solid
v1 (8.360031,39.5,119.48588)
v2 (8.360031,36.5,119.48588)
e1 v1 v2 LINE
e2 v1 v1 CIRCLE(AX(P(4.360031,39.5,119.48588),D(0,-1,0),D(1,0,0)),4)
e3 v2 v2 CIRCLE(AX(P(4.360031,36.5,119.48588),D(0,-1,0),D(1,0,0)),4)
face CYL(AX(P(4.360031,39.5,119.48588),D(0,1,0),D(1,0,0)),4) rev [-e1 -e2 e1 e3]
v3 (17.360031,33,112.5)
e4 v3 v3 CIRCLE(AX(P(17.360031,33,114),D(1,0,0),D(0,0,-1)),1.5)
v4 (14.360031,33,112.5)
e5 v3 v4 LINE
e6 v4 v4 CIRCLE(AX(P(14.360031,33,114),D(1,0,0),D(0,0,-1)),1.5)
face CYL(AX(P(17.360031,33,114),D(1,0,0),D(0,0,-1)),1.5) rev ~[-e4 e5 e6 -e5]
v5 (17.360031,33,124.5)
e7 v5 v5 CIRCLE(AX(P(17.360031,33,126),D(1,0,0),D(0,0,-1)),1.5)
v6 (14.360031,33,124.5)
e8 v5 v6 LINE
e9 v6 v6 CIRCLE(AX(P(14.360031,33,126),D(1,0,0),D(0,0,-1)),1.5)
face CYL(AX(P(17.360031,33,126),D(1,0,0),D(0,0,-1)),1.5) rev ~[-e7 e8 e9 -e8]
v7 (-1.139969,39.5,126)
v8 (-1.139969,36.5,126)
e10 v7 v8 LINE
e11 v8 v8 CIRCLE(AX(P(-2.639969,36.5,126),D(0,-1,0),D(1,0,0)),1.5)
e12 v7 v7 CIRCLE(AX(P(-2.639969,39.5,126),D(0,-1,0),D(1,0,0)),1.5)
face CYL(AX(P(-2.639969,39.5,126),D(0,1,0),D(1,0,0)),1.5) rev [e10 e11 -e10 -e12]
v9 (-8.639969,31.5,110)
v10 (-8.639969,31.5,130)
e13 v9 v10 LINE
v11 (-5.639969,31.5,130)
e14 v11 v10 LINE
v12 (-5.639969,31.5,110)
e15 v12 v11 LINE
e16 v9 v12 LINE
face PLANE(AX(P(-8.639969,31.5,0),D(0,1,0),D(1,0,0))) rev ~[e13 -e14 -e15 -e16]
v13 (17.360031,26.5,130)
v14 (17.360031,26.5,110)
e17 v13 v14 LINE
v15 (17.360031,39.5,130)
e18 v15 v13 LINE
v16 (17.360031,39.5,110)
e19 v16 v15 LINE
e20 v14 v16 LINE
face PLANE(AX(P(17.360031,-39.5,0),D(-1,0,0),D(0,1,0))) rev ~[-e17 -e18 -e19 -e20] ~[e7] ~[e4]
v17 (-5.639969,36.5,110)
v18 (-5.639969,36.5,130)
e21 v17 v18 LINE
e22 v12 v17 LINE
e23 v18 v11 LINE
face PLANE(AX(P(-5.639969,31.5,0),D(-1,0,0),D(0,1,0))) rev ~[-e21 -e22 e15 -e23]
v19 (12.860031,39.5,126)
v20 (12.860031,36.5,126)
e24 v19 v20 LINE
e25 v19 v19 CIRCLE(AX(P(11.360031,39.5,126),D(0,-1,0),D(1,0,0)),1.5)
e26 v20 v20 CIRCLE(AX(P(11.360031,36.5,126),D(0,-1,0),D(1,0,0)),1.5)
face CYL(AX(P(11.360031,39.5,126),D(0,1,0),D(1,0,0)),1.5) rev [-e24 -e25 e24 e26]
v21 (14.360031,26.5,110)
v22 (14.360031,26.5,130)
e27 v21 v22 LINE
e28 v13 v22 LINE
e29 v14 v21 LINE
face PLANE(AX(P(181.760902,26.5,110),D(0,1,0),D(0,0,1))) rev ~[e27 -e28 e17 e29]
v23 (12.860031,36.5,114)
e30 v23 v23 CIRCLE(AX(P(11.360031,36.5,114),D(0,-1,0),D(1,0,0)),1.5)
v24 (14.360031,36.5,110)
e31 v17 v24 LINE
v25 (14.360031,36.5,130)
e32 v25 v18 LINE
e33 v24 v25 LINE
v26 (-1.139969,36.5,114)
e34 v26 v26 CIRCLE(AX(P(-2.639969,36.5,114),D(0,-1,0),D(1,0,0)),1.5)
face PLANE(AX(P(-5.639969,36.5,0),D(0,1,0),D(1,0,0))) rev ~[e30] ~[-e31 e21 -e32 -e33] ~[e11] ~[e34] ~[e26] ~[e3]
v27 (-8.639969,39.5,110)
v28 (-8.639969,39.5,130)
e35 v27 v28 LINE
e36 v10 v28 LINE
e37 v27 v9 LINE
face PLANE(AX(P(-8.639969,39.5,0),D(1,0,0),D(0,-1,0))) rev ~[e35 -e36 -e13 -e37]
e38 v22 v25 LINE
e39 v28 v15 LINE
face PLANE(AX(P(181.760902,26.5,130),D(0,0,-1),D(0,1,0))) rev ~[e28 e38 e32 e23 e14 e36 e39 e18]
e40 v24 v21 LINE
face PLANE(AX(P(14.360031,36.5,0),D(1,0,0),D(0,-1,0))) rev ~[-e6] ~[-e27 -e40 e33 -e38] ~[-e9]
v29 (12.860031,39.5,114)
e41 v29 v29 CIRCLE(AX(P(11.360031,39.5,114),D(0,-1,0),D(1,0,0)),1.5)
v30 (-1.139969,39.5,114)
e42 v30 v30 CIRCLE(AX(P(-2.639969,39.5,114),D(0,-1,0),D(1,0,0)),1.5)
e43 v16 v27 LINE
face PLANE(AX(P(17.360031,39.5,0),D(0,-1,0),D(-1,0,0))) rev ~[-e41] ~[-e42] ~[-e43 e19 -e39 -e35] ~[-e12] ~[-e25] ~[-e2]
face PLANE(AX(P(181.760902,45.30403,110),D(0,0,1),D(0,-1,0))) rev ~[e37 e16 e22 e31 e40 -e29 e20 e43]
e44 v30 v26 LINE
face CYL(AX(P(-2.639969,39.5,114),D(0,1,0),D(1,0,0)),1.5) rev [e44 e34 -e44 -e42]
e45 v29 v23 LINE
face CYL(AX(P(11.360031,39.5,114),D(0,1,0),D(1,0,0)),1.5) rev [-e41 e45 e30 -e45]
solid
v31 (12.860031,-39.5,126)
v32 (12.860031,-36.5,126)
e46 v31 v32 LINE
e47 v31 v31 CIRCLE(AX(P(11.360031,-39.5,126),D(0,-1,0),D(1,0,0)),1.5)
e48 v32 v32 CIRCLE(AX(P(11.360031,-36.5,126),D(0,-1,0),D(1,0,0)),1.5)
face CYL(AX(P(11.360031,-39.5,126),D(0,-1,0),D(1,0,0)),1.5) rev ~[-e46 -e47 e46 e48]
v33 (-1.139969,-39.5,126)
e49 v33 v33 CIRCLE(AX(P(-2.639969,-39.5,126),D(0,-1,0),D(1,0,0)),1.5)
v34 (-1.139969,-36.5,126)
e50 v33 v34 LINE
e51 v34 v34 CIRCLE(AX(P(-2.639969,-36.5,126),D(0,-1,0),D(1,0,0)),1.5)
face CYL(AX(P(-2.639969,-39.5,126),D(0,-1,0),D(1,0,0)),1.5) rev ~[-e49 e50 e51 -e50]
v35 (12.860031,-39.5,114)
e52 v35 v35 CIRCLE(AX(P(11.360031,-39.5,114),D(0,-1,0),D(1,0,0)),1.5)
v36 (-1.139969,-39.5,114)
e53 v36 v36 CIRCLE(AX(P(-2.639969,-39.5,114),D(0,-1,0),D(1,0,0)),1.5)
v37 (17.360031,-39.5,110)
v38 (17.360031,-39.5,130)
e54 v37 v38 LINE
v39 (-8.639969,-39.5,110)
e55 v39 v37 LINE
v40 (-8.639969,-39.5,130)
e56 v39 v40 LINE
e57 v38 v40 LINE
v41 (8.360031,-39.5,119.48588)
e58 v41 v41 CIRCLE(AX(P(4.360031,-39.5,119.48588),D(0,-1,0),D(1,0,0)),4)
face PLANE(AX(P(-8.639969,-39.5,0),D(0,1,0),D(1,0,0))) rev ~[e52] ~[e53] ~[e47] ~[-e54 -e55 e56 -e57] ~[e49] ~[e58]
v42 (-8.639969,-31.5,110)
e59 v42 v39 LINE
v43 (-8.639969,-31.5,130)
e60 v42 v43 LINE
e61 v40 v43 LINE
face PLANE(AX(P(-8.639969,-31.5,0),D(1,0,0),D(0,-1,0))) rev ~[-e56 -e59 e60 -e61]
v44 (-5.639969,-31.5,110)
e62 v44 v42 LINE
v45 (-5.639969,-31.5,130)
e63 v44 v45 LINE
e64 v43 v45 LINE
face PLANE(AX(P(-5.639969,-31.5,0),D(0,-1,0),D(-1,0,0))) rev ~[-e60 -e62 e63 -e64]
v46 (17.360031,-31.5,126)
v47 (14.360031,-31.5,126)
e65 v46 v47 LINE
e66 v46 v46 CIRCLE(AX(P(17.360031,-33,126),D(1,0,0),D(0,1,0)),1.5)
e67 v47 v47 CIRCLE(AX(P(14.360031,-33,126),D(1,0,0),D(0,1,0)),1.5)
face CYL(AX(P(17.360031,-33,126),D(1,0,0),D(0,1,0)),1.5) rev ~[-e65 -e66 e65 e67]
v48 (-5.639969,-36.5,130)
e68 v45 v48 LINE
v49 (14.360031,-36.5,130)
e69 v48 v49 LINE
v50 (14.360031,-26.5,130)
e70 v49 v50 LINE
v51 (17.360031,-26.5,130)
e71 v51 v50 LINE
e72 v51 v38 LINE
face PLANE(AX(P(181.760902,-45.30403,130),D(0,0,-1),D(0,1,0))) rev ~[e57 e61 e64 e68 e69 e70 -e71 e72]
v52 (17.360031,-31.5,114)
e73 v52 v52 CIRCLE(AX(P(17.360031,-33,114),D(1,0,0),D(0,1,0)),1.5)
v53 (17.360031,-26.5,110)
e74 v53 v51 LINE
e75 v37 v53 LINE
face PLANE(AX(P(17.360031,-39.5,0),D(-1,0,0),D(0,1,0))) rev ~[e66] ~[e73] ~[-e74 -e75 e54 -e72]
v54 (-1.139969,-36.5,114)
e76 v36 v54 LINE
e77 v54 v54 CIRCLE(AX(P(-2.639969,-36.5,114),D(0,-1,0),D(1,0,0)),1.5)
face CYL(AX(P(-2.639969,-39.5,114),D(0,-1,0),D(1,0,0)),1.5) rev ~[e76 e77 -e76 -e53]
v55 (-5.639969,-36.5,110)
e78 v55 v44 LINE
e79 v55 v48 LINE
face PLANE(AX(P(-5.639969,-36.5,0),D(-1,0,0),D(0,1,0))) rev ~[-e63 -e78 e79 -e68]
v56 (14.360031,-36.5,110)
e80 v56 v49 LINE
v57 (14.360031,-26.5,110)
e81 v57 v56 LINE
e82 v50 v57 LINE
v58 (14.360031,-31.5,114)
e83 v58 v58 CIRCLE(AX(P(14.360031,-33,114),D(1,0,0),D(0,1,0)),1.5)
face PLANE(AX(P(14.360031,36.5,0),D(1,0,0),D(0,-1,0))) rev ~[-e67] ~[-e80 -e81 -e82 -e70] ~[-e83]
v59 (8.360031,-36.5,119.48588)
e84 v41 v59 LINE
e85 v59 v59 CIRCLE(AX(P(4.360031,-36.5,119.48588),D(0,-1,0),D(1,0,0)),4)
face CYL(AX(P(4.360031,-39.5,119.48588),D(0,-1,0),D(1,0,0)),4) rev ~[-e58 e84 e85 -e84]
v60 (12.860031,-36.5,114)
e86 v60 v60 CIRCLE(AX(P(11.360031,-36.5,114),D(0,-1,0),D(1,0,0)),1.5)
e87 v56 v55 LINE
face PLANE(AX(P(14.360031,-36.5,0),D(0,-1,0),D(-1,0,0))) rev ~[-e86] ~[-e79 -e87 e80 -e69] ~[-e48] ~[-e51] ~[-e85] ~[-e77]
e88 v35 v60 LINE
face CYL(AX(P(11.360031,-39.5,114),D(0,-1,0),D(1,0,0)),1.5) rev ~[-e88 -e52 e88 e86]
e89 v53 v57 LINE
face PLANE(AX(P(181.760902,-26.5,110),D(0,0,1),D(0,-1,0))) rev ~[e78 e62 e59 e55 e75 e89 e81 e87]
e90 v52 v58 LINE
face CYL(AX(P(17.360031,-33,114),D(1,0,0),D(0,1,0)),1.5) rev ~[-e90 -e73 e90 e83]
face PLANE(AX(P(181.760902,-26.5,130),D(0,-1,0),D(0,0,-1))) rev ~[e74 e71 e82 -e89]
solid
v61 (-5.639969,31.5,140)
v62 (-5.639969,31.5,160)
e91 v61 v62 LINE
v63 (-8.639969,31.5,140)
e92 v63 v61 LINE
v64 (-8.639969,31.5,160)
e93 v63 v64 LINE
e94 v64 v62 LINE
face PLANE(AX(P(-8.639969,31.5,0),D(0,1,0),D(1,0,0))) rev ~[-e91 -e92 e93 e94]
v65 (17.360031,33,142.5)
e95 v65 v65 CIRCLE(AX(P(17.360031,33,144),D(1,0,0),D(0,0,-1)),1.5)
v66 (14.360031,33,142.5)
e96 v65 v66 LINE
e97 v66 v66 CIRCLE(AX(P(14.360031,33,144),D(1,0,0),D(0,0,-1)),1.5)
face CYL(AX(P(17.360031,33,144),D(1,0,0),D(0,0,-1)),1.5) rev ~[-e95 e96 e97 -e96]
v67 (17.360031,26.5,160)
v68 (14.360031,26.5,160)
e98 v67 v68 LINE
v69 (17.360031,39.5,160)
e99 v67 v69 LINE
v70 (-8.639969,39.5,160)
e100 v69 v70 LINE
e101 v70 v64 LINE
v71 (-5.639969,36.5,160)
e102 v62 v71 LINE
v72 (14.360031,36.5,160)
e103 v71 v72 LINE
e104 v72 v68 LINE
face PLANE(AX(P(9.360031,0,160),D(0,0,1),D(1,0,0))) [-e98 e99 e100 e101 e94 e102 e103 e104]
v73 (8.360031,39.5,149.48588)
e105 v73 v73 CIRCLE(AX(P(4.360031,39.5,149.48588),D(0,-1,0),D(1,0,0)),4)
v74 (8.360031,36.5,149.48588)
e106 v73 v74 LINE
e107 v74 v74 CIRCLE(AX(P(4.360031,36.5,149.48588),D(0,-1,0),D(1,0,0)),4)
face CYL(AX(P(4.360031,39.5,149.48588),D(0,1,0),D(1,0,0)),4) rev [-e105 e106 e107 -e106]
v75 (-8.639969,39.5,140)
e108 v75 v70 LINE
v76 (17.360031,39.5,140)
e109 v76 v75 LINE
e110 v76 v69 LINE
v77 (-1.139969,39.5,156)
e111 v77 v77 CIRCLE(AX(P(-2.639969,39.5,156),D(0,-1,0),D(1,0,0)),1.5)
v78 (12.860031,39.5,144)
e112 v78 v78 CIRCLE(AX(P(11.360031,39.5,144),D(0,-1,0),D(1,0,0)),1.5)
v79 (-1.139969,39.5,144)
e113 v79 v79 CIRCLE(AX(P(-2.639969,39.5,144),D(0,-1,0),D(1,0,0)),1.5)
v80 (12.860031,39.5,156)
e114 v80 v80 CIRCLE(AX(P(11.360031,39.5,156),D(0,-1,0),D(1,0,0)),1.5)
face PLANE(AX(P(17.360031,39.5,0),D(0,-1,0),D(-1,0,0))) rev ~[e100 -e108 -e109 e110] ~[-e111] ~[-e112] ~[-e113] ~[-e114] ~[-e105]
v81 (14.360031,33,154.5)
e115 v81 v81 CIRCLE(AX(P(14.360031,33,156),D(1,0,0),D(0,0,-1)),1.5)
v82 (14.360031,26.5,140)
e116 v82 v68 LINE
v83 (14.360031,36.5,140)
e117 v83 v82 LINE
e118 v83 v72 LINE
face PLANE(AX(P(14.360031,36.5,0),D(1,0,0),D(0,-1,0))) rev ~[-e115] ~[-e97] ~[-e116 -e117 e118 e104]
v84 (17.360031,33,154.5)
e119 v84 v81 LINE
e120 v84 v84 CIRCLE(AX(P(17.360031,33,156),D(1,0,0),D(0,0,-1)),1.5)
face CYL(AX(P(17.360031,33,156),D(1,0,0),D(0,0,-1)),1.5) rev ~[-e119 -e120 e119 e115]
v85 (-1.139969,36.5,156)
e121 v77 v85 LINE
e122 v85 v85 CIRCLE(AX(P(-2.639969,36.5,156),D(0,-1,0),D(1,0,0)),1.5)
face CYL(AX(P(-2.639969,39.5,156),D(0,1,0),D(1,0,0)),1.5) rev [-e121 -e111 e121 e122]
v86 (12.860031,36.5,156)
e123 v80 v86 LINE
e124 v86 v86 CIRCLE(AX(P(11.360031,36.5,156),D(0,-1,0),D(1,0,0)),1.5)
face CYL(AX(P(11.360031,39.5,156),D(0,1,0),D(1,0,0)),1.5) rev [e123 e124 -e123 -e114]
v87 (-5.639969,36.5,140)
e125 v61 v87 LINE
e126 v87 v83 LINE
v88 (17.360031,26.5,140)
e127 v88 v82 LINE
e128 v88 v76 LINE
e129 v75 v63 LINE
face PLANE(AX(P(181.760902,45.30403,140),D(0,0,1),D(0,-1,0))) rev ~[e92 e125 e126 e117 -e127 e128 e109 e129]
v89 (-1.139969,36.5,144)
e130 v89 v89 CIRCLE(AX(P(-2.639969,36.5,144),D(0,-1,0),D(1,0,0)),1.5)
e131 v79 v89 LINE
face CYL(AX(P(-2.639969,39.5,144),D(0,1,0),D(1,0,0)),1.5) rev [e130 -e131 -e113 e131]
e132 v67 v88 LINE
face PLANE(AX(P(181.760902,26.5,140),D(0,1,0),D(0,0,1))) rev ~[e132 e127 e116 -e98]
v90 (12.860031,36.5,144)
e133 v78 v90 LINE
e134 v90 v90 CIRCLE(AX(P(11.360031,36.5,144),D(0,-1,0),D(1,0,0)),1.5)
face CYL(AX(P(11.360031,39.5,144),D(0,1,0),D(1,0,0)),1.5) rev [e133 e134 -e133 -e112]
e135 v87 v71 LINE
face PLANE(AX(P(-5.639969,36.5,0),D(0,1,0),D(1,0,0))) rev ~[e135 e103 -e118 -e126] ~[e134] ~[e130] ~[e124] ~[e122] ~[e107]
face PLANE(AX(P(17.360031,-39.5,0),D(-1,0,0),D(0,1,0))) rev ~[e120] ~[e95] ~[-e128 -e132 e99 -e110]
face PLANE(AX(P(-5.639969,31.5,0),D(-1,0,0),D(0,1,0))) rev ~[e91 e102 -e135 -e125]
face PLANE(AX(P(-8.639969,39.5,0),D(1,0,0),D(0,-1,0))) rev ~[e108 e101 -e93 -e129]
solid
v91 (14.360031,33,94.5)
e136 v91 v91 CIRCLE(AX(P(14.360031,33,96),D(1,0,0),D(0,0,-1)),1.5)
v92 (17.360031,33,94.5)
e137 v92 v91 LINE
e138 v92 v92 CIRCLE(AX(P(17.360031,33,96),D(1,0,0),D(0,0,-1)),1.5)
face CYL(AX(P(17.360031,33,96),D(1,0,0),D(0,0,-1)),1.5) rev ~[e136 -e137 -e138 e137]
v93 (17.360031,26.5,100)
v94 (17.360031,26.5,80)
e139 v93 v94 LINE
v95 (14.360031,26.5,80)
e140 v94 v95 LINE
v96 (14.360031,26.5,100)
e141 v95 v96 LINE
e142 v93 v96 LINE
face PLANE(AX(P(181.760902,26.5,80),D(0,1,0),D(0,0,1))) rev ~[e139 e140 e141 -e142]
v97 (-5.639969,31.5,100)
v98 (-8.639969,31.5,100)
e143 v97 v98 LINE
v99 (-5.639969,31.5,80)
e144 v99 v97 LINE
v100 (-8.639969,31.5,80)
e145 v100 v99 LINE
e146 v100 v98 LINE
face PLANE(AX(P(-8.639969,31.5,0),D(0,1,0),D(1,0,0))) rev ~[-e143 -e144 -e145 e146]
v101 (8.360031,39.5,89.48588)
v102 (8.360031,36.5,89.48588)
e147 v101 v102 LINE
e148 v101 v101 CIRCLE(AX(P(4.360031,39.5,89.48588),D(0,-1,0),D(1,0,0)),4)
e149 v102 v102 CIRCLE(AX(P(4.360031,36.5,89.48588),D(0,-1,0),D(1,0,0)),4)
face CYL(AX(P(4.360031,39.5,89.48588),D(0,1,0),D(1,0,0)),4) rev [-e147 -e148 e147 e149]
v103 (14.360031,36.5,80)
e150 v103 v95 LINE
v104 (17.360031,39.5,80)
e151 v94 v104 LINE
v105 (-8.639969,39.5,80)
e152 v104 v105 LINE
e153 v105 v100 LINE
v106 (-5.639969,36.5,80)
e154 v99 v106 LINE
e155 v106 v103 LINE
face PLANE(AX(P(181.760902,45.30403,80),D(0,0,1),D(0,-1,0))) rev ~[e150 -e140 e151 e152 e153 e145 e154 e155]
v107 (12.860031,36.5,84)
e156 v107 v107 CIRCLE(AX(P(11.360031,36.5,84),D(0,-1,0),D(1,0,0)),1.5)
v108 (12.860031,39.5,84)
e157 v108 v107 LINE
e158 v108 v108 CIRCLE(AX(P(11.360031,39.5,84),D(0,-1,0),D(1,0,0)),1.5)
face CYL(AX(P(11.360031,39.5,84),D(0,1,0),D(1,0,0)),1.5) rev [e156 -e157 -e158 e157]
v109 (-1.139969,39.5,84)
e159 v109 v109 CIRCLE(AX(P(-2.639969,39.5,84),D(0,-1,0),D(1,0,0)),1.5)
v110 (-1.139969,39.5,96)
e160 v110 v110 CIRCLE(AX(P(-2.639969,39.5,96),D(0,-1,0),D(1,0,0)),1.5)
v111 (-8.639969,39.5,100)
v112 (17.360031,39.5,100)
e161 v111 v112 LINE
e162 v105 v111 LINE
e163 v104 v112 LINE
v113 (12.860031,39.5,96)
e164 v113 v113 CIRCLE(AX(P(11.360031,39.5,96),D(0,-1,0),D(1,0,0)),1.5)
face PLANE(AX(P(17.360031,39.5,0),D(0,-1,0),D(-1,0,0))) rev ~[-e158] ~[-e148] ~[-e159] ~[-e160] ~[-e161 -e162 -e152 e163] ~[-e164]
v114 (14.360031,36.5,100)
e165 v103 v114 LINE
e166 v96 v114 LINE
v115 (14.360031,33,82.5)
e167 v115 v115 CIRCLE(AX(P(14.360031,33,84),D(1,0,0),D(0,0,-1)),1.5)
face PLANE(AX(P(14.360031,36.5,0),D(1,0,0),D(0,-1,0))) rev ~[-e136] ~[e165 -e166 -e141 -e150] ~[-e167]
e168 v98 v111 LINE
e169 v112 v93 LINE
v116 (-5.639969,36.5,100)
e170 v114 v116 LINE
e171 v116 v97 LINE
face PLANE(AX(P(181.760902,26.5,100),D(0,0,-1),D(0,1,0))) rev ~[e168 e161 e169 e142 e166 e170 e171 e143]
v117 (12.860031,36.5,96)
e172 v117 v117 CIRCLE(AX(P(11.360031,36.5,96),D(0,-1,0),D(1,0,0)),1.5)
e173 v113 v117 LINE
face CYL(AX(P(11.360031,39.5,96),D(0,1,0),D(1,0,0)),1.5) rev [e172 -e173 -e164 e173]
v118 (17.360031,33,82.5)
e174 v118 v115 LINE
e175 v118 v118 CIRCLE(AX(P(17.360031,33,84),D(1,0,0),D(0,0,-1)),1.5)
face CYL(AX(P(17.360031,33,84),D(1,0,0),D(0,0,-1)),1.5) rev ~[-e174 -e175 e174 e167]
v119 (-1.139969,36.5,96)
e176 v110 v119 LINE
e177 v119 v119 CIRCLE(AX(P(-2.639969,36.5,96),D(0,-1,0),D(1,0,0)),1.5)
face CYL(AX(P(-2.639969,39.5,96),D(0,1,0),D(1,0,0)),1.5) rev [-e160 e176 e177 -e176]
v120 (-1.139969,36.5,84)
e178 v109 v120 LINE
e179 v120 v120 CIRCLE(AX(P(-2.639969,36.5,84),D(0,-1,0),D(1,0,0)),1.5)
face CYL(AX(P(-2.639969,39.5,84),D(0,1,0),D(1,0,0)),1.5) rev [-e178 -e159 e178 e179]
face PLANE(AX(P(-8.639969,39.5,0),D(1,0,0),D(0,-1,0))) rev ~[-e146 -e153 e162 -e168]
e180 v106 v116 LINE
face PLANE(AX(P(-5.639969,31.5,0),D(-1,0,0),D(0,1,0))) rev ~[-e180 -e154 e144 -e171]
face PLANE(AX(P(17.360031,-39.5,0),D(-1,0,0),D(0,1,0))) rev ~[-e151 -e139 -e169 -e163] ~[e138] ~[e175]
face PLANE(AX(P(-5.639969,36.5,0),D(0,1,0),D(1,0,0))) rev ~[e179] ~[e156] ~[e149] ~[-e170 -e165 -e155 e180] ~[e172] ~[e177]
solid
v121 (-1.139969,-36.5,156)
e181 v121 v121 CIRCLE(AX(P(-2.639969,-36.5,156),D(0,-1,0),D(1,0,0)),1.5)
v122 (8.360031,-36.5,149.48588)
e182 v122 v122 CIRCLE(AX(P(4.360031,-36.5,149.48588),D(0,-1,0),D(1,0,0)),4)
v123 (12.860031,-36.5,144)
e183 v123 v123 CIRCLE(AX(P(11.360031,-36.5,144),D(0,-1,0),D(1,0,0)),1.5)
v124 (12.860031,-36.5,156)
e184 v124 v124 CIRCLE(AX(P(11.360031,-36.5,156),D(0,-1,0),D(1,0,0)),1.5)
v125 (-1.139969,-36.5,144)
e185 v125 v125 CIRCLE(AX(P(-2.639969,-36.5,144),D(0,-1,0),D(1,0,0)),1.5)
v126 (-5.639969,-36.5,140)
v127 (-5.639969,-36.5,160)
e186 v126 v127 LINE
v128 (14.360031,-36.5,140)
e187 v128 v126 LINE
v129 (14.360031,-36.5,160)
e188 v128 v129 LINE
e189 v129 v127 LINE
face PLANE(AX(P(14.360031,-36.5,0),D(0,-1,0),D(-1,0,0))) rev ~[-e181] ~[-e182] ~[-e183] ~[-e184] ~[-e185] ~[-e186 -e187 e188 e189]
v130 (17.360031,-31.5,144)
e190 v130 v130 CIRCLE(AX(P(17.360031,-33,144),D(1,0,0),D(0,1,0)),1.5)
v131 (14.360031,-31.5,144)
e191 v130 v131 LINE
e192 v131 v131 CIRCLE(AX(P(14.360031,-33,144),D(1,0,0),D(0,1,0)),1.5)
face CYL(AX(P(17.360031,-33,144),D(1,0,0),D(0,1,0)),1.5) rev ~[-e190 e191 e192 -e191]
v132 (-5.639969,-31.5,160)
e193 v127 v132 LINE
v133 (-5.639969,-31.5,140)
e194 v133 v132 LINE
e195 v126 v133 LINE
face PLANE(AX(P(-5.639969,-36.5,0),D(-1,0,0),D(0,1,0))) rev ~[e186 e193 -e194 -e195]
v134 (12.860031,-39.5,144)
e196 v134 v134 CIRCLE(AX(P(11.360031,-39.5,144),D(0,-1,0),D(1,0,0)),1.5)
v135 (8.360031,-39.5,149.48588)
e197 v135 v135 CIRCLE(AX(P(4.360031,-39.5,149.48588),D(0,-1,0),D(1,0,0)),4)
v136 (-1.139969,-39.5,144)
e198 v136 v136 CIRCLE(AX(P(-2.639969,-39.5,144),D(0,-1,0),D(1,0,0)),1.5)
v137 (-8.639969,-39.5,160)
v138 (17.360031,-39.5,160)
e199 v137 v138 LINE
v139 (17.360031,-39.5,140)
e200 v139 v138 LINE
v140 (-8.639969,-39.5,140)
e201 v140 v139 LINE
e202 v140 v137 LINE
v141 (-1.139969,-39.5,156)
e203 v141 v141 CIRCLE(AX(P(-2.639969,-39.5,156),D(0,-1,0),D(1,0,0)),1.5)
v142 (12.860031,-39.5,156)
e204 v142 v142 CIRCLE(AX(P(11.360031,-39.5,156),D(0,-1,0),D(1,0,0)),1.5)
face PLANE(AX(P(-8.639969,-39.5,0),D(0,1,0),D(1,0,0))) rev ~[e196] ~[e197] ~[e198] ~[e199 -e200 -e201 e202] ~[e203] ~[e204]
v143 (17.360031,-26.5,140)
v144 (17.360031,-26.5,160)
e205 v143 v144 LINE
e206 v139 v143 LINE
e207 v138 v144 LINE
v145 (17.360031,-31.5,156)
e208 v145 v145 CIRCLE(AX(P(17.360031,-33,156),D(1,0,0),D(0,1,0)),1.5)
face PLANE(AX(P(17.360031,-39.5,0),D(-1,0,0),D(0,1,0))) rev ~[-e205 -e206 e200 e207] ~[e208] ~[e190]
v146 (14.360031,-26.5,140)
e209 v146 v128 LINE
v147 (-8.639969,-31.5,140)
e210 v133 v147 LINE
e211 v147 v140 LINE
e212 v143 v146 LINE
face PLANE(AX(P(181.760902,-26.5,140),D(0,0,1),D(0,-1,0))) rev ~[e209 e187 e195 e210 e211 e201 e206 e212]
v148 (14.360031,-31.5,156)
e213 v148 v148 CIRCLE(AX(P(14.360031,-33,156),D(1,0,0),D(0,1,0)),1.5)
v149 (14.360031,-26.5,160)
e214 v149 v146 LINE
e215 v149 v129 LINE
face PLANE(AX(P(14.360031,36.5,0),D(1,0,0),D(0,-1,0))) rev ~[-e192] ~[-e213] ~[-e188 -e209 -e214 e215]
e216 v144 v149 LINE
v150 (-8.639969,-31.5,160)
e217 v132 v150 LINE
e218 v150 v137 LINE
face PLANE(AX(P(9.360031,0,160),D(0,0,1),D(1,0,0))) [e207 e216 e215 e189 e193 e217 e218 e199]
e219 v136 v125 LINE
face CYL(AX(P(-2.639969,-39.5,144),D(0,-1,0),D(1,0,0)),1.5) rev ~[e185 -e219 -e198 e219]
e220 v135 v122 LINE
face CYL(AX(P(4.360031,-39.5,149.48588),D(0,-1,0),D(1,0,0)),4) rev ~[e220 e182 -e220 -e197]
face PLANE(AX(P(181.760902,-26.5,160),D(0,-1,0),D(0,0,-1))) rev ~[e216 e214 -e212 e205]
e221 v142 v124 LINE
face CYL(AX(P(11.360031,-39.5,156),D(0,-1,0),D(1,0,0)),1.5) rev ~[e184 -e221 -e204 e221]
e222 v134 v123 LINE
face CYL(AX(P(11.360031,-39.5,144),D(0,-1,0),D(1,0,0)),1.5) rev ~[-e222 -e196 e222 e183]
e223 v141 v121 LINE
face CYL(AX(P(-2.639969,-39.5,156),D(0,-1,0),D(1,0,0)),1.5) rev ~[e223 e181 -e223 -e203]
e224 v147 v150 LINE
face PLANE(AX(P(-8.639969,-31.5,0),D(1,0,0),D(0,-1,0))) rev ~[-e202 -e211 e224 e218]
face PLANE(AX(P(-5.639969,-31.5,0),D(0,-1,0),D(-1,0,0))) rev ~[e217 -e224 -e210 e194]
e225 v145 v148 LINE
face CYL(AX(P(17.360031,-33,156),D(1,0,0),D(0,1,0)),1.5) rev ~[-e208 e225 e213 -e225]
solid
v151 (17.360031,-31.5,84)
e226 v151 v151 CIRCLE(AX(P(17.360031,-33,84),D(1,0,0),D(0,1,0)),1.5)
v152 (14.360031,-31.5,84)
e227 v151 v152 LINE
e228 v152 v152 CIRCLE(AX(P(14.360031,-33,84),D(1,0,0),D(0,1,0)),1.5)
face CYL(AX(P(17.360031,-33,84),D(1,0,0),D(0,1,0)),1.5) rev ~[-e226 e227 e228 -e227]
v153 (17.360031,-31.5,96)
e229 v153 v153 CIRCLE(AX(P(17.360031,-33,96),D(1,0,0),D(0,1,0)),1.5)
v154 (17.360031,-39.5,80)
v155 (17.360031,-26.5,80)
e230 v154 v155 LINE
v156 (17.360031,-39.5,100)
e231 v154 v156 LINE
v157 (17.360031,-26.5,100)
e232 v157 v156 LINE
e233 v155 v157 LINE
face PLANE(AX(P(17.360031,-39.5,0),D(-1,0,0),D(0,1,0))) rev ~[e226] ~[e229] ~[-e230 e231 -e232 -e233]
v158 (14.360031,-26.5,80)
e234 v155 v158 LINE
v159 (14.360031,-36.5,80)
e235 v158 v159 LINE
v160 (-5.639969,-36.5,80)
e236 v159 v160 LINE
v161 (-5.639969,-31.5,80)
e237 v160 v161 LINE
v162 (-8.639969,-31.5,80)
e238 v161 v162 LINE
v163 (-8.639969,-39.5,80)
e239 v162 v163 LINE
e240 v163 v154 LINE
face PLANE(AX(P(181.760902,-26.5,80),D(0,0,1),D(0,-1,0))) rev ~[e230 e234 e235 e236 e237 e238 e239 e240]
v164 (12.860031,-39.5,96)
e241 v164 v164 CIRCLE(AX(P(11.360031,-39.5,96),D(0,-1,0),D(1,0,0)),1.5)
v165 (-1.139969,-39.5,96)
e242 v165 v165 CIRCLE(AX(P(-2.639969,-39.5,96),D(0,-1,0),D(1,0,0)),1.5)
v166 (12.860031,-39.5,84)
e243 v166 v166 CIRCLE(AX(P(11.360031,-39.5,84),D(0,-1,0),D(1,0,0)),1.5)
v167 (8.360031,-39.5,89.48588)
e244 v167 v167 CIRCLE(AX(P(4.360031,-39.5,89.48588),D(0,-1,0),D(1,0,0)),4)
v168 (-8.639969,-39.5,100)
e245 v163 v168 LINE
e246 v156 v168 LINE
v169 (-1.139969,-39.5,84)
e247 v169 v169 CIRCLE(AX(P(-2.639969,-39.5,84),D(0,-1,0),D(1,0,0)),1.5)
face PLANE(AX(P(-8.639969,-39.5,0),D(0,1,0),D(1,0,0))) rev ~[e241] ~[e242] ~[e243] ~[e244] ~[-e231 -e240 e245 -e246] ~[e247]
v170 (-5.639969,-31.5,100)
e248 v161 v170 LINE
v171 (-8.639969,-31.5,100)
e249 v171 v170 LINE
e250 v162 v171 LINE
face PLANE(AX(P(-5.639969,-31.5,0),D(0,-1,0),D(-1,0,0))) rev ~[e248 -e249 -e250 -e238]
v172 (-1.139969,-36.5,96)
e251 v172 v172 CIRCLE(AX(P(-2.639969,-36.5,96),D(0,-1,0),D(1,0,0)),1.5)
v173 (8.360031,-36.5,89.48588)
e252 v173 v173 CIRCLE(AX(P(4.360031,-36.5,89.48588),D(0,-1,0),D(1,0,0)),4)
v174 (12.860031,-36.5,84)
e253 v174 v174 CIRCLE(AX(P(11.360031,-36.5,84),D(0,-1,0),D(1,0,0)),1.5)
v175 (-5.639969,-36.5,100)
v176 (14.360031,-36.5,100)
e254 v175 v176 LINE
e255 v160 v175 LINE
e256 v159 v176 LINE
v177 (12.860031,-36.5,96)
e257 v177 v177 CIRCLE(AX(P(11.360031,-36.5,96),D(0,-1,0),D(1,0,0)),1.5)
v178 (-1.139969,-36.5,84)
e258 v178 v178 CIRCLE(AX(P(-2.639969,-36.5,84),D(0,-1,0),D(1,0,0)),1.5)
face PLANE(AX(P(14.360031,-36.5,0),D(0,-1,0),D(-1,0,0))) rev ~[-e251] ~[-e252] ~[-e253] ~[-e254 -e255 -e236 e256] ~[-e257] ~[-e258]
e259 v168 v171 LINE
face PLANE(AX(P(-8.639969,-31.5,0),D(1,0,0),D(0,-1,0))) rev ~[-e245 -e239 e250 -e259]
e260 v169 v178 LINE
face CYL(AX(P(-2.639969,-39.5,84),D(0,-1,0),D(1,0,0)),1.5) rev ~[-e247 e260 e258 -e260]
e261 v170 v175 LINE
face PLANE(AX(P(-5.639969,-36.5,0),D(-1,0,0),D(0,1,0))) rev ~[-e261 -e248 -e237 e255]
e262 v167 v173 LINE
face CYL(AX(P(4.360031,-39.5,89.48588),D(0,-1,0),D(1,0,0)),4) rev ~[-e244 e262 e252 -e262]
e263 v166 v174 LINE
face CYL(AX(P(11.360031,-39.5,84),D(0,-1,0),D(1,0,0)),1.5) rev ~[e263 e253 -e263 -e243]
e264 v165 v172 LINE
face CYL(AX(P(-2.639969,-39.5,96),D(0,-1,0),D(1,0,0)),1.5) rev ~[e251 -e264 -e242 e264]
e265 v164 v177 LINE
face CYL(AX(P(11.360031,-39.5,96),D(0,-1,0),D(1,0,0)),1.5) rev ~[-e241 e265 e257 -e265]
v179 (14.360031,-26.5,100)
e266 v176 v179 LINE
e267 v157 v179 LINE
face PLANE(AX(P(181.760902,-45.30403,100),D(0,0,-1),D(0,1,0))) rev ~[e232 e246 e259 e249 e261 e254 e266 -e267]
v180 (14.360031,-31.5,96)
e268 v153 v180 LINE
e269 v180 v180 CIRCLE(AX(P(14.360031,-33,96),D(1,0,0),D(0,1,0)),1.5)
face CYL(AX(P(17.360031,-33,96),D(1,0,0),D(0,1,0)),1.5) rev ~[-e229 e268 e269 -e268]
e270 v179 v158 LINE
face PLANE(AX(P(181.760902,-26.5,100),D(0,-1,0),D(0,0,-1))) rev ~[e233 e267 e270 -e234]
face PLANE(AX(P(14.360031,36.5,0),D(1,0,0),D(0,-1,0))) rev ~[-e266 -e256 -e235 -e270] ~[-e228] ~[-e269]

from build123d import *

# Parameters (mm, degrees)
EXTRUDE_1_DEPTH          = 160
CUT_EXTRUDE_2_DEPTH      = 167.400871392
CUT_EXTRUDE_2_DEPTH_BACK = 167.400871392
SKETCH_5_R               = 1.5
CUT_EXTRUDE_3_DEPTH      = 3
SKETCH_6_R               = 1.5
SKETCH_6_R_2             = 4
CUT_EXTRUDE_4_DEPTH      = 3


with BuildPart() as part:
    # 草图1 → 凸台-拉伸1 (new body)
    with BuildSketch(Plane.XY):
        Polygon((-8.639969484, -35.5), (-8.639969484, -39.5), (17.360030516, -39.5), (17.360030516, 39.5), (-8.639969484, 39.5), (-8.639969484, 35.5), (-8.639969484, 31.5), (-5.639969484, 31.5), (-5.639969484, 36.5), (14.360030516, 36.5), (14.360030516, -36.5), (-5.639969484, -36.5), (-5.639969484, -31.5), (-8.639969484, -31.5), align=None)
    extrude(amount=EXTRUDE_1_DEPTH)

    # 草图4 → 切除-拉伸2 (cut, two sides: drawn at the far end of the back side and taken through both)
    with BuildSketch(Plane.ZY.offset(-14.360030516).offset(-CUT_EXTRUDE_2_DEPTH_BACK)):
        Polygon((140, 26.5), (160, 26.5), (160, -26.5), (140, -26.5), (140, -45.304030301), (130, -45.304030301), (130, -26.5), (110, -26.5), (110, -45.304030301), (100, -45.304030301), (100, -26.5), (80, -26.5), (80, -45.304030301), (72.341947093, -45.304030301), (72.341947093, -47.20233834), (-21.576648983, -47.20233834), (-21.576648983, 47.202965292), (72.341947093, 47.202965292), (72.341947093, 45.304030301), (80, 45.304030301), (80, 26.5), (100, 26.5), (100, 45.304030301), (110, 45.304030301), (110, 26.5), (130, 26.5), (130, 45.304030301), (140, 45.304030301), align=None)
    extrude(amount=CUT_EXTRUDE_2_DEPTH + CUT_EXTRUDE_2_DEPTH_BACK, mode=Mode.SUBTRACT)


with BuildPart() as cut_extrude_2_piece_1:
    # of the separate pieces the step leaves, piece 1, a body of its own (cut_extrude_2_pieces)
    add(part.part.solids().sort_by_distance((17.360030516, 39.5, 80))[0])


with BuildPart() as cut_extrude_2_piece_2:
    # of the separate pieces the step leaves, piece 2, a body of its own (cut_extrude_2_pieces)
    add(part.part.solids().sort_by_distance((17.360030516, 39.5, 110))[0])


with BuildPart() as cut_extrude_2_piece_3:
    # of the separate pieces the step leaves, piece 3, a body of its own (cut_extrude_2_pieces)
    add(part.part.solids().sort_by_distance((17.360030516, -39.5, 140))[0])


with BuildPart() as cut_extrude_2_piece_4:
    # of the separate pieces the step leaves, piece 4, a body of its own (cut_extrude_2_pieces)
    add(part.part.solids().sort_by_distance((17.360030516, 39.5, 140))[0])


with BuildPart() as cut_extrude_2_piece_5:
    # of the separate pieces the step leaves, piece 5, a body of its own (cut_extrude_2_pieces)
    add(part.part.solids().sort_by_distance((17.360030516, -39.5, 110))[0])


with BuildPart() as cut_extrude_2_piece_6:
    # of the separate pieces the step leaves, piece 6, a body of its own (cut_extrude_2_pieces)
    add(part.part.solids().sort_by_distance((-8.639969484, -39.5, 80))[0])


with BuildPart() as cut_extrude_3_tool:
    # 草图5 → 切除-拉伸3 (new body)
    with BuildSketch(Plane(origin=(17.360030516, 0, 0), x_dir=(0, 0, -1), z_dir=(1, 0, 0))):
        with Locations(Location((-96, -33, 0), (0, 0, 90))):
            Circle(SKETCH_5_R)
        with Locations(Location((-84, -33, 0), (0, 0, 90))):
            Circle(SKETCH_5_R)
        with Locations(Location((-126, -33, 0), (0, 0, 90))):
            Circle(SKETCH_5_R)
        with Locations(Location((-114, -33, 0), (0, 0, 90))):
            Circle(SKETCH_5_R)
        with Locations(Location((-156, -33, 0), (0, 0, 90))):
            Circle(SKETCH_5_R)
        with Locations(Location((-144, -33, 0), (0, 0, 90))):
            Circle(SKETCH_5_R)
        with Locations((-84, 33)):
            Circle(SKETCH_5_R)
        with Locations((-96, 33)):
            Circle(SKETCH_5_R)
        with Locations((-114, 33)):
            Circle(SKETCH_5_R)
        with Locations((-126, 33)):
            Circle(SKETCH_5_R)
        with Locations((-144, 33)):
            Circle(SKETCH_5_R)
        with Locations((-156, 33)):
            Circle(SKETCH_5_R)
    extrude(amount=-CUT_EXTRUDE_3_DEPTH)


with BuildPart() as cut_extrude_2_piece_1_1:
    add(cut_extrude_2_piece_1.part)

    # 切除-拉伸3: cut by cut_extrude_3_tool
    add(cut_extrude_3_tool.part, mode=Mode.SUBTRACT)


with BuildPart() as cut_extrude_2_piece_2_1:
    add(cut_extrude_2_piece_2.part)

    # 切除-拉伸3: cut by cut_extrude_3_tool
    add(cut_extrude_3_tool.part, mode=Mode.SUBTRACT)


with BuildPart() as cut_extrude_2_piece_3_1:
    add(cut_extrude_2_piece_3.part)

    # 切除-拉伸3: cut by cut_extrude_3_tool
    add(cut_extrude_3_tool.part, mode=Mode.SUBTRACT)


with BuildPart() as cut_extrude_2_piece_4_1:
    add(cut_extrude_2_piece_4.part)

    # 切除-拉伸3: cut by cut_extrude_3_tool
    add(cut_extrude_3_tool.part, mode=Mode.SUBTRACT)


with BuildPart() as cut_extrude_2_piece_5_1:
    add(cut_extrude_2_piece_5.part)

    # 切除-拉伸3: cut by cut_extrude_3_tool
    add(cut_extrude_3_tool.part, mode=Mode.SUBTRACT)


with BuildPart() as cut_extrude_2_piece_6_1:
    add(cut_extrude_2_piece_6.part)

    # 切除-拉伸3: cut by cut_extrude_3_tool
    add(cut_extrude_3_tool.part, mode=Mode.SUBTRACT)


with BuildPart() as cut_extrude_4_tool:
    # 草图6 → 切除-拉伸4 (new body)
    with BuildSketch(Plane.XZ.offset(39.5)):
        with Locations((11.360030516, 96)):
            Circle(SKETCH_6_R)
        with Locations((11.360030516, 84)):
            Circle(SKETCH_6_R)
        with Locations((-2.639969484, 84)):
            Circle(SKETCH_6_R)
        with Locations((-2.639969484, 96)):
            Circle(SKETCH_6_R)
        with Locations((-2.639969484, 126)):
            Circle(SKETCH_6_R)
        with Locations((-2.639969484, 114)):
            Circle(SKETCH_6_R)
        with Locations((11.360030516, 114)):
            Circle(SKETCH_6_R)
        with Locations((11.360030516, 126)):
            Circle(SKETCH_6_R)
        with Locations((-2.639969484, 156)):
            Circle(SKETCH_6_R)
        with Locations((-2.639969484, 144)):
            Circle(SKETCH_6_R)
        with Locations((11.360030516, 144)):
            Circle(SKETCH_6_R)
        with Locations((11.360030516, 156)):
            Circle(SKETCH_6_R)
        with Locations((4.360030516, 89.485879771)):
            Circle(SKETCH_6_R_2)
        with Locations((4.360030516, 119.485879771)):
            Circle(SKETCH_6_R_2)
        with Locations((4.360030516, 149.485879771)):
            Circle(SKETCH_6_R_2)
    cut_extrude_4 = extrude(amount=-CUT_EXTRUDE_4_DEPTH)


with BuildPart() as cut_extrude_2_piece_3_2:
    add(cut_extrude_2_piece_3_1.part)

    # 切除-拉伸4: cut by cut_extrude_4_tool
    add(cut_extrude_4_tool.part, mode=Mode.SUBTRACT)


with BuildPart() as cut_extrude_2_piece_5_2:
    add(cut_extrude_2_piece_5_1.part)

    # 切除-拉伸4: cut by cut_extrude_4_tool
    add(cut_extrude_4_tool.part, mode=Mode.SUBTRACT)


with BuildPart() as cut_extrude_2_piece_6_2:
    add(cut_extrude_2_piece_6_1.part)

    # 切除-拉伸4: cut by cut_extrude_4_tool
    add(cut_extrude_4_tool.part, mode=Mode.SUBTRACT)


with BuildPart() as mirror_1_tool:
    # 镜向1: 切除-拉伸4 across plane
    add(cut_extrude_4.mirror(Plane.ZX))


with BuildPart() as cut_extrude_2_piece_1_2:
    add(cut_extrude_2_piece_1_1.part)

    # 镜向1: cut by mirror_1_tool
    add(mirror_1_tool.part, mode=Mode.SUBTRACT)


with BuildPart() as cut_extrude_2_piece_2_2:
    add(cut_extrude_2_piece_2_1.part)

    # 镜向1: cut by mirror_1_tool
    add(mirror_1_tool.part, mode=Mode.SUBTRACT)


with BuildPart() as cut_extrude_2_piece_4_2:
    add(cut_extrude_2_piece_4_1.part)

    # 镜向1: cut by mirror_1_tool
    add(mirror_1_tool.part, mode=Mode.SUBTRACT)


solid = Compound([cut_extrude_2_piece_3_2.part, cut_extrude_2_piece_5_2.part, cut_extrude_2_piece_6_2.part, cut_extrude_2_piece_1_2.part, cut_extrude_2_piece_2_2.part, cut_extrude_2_piece_4_2.part])
